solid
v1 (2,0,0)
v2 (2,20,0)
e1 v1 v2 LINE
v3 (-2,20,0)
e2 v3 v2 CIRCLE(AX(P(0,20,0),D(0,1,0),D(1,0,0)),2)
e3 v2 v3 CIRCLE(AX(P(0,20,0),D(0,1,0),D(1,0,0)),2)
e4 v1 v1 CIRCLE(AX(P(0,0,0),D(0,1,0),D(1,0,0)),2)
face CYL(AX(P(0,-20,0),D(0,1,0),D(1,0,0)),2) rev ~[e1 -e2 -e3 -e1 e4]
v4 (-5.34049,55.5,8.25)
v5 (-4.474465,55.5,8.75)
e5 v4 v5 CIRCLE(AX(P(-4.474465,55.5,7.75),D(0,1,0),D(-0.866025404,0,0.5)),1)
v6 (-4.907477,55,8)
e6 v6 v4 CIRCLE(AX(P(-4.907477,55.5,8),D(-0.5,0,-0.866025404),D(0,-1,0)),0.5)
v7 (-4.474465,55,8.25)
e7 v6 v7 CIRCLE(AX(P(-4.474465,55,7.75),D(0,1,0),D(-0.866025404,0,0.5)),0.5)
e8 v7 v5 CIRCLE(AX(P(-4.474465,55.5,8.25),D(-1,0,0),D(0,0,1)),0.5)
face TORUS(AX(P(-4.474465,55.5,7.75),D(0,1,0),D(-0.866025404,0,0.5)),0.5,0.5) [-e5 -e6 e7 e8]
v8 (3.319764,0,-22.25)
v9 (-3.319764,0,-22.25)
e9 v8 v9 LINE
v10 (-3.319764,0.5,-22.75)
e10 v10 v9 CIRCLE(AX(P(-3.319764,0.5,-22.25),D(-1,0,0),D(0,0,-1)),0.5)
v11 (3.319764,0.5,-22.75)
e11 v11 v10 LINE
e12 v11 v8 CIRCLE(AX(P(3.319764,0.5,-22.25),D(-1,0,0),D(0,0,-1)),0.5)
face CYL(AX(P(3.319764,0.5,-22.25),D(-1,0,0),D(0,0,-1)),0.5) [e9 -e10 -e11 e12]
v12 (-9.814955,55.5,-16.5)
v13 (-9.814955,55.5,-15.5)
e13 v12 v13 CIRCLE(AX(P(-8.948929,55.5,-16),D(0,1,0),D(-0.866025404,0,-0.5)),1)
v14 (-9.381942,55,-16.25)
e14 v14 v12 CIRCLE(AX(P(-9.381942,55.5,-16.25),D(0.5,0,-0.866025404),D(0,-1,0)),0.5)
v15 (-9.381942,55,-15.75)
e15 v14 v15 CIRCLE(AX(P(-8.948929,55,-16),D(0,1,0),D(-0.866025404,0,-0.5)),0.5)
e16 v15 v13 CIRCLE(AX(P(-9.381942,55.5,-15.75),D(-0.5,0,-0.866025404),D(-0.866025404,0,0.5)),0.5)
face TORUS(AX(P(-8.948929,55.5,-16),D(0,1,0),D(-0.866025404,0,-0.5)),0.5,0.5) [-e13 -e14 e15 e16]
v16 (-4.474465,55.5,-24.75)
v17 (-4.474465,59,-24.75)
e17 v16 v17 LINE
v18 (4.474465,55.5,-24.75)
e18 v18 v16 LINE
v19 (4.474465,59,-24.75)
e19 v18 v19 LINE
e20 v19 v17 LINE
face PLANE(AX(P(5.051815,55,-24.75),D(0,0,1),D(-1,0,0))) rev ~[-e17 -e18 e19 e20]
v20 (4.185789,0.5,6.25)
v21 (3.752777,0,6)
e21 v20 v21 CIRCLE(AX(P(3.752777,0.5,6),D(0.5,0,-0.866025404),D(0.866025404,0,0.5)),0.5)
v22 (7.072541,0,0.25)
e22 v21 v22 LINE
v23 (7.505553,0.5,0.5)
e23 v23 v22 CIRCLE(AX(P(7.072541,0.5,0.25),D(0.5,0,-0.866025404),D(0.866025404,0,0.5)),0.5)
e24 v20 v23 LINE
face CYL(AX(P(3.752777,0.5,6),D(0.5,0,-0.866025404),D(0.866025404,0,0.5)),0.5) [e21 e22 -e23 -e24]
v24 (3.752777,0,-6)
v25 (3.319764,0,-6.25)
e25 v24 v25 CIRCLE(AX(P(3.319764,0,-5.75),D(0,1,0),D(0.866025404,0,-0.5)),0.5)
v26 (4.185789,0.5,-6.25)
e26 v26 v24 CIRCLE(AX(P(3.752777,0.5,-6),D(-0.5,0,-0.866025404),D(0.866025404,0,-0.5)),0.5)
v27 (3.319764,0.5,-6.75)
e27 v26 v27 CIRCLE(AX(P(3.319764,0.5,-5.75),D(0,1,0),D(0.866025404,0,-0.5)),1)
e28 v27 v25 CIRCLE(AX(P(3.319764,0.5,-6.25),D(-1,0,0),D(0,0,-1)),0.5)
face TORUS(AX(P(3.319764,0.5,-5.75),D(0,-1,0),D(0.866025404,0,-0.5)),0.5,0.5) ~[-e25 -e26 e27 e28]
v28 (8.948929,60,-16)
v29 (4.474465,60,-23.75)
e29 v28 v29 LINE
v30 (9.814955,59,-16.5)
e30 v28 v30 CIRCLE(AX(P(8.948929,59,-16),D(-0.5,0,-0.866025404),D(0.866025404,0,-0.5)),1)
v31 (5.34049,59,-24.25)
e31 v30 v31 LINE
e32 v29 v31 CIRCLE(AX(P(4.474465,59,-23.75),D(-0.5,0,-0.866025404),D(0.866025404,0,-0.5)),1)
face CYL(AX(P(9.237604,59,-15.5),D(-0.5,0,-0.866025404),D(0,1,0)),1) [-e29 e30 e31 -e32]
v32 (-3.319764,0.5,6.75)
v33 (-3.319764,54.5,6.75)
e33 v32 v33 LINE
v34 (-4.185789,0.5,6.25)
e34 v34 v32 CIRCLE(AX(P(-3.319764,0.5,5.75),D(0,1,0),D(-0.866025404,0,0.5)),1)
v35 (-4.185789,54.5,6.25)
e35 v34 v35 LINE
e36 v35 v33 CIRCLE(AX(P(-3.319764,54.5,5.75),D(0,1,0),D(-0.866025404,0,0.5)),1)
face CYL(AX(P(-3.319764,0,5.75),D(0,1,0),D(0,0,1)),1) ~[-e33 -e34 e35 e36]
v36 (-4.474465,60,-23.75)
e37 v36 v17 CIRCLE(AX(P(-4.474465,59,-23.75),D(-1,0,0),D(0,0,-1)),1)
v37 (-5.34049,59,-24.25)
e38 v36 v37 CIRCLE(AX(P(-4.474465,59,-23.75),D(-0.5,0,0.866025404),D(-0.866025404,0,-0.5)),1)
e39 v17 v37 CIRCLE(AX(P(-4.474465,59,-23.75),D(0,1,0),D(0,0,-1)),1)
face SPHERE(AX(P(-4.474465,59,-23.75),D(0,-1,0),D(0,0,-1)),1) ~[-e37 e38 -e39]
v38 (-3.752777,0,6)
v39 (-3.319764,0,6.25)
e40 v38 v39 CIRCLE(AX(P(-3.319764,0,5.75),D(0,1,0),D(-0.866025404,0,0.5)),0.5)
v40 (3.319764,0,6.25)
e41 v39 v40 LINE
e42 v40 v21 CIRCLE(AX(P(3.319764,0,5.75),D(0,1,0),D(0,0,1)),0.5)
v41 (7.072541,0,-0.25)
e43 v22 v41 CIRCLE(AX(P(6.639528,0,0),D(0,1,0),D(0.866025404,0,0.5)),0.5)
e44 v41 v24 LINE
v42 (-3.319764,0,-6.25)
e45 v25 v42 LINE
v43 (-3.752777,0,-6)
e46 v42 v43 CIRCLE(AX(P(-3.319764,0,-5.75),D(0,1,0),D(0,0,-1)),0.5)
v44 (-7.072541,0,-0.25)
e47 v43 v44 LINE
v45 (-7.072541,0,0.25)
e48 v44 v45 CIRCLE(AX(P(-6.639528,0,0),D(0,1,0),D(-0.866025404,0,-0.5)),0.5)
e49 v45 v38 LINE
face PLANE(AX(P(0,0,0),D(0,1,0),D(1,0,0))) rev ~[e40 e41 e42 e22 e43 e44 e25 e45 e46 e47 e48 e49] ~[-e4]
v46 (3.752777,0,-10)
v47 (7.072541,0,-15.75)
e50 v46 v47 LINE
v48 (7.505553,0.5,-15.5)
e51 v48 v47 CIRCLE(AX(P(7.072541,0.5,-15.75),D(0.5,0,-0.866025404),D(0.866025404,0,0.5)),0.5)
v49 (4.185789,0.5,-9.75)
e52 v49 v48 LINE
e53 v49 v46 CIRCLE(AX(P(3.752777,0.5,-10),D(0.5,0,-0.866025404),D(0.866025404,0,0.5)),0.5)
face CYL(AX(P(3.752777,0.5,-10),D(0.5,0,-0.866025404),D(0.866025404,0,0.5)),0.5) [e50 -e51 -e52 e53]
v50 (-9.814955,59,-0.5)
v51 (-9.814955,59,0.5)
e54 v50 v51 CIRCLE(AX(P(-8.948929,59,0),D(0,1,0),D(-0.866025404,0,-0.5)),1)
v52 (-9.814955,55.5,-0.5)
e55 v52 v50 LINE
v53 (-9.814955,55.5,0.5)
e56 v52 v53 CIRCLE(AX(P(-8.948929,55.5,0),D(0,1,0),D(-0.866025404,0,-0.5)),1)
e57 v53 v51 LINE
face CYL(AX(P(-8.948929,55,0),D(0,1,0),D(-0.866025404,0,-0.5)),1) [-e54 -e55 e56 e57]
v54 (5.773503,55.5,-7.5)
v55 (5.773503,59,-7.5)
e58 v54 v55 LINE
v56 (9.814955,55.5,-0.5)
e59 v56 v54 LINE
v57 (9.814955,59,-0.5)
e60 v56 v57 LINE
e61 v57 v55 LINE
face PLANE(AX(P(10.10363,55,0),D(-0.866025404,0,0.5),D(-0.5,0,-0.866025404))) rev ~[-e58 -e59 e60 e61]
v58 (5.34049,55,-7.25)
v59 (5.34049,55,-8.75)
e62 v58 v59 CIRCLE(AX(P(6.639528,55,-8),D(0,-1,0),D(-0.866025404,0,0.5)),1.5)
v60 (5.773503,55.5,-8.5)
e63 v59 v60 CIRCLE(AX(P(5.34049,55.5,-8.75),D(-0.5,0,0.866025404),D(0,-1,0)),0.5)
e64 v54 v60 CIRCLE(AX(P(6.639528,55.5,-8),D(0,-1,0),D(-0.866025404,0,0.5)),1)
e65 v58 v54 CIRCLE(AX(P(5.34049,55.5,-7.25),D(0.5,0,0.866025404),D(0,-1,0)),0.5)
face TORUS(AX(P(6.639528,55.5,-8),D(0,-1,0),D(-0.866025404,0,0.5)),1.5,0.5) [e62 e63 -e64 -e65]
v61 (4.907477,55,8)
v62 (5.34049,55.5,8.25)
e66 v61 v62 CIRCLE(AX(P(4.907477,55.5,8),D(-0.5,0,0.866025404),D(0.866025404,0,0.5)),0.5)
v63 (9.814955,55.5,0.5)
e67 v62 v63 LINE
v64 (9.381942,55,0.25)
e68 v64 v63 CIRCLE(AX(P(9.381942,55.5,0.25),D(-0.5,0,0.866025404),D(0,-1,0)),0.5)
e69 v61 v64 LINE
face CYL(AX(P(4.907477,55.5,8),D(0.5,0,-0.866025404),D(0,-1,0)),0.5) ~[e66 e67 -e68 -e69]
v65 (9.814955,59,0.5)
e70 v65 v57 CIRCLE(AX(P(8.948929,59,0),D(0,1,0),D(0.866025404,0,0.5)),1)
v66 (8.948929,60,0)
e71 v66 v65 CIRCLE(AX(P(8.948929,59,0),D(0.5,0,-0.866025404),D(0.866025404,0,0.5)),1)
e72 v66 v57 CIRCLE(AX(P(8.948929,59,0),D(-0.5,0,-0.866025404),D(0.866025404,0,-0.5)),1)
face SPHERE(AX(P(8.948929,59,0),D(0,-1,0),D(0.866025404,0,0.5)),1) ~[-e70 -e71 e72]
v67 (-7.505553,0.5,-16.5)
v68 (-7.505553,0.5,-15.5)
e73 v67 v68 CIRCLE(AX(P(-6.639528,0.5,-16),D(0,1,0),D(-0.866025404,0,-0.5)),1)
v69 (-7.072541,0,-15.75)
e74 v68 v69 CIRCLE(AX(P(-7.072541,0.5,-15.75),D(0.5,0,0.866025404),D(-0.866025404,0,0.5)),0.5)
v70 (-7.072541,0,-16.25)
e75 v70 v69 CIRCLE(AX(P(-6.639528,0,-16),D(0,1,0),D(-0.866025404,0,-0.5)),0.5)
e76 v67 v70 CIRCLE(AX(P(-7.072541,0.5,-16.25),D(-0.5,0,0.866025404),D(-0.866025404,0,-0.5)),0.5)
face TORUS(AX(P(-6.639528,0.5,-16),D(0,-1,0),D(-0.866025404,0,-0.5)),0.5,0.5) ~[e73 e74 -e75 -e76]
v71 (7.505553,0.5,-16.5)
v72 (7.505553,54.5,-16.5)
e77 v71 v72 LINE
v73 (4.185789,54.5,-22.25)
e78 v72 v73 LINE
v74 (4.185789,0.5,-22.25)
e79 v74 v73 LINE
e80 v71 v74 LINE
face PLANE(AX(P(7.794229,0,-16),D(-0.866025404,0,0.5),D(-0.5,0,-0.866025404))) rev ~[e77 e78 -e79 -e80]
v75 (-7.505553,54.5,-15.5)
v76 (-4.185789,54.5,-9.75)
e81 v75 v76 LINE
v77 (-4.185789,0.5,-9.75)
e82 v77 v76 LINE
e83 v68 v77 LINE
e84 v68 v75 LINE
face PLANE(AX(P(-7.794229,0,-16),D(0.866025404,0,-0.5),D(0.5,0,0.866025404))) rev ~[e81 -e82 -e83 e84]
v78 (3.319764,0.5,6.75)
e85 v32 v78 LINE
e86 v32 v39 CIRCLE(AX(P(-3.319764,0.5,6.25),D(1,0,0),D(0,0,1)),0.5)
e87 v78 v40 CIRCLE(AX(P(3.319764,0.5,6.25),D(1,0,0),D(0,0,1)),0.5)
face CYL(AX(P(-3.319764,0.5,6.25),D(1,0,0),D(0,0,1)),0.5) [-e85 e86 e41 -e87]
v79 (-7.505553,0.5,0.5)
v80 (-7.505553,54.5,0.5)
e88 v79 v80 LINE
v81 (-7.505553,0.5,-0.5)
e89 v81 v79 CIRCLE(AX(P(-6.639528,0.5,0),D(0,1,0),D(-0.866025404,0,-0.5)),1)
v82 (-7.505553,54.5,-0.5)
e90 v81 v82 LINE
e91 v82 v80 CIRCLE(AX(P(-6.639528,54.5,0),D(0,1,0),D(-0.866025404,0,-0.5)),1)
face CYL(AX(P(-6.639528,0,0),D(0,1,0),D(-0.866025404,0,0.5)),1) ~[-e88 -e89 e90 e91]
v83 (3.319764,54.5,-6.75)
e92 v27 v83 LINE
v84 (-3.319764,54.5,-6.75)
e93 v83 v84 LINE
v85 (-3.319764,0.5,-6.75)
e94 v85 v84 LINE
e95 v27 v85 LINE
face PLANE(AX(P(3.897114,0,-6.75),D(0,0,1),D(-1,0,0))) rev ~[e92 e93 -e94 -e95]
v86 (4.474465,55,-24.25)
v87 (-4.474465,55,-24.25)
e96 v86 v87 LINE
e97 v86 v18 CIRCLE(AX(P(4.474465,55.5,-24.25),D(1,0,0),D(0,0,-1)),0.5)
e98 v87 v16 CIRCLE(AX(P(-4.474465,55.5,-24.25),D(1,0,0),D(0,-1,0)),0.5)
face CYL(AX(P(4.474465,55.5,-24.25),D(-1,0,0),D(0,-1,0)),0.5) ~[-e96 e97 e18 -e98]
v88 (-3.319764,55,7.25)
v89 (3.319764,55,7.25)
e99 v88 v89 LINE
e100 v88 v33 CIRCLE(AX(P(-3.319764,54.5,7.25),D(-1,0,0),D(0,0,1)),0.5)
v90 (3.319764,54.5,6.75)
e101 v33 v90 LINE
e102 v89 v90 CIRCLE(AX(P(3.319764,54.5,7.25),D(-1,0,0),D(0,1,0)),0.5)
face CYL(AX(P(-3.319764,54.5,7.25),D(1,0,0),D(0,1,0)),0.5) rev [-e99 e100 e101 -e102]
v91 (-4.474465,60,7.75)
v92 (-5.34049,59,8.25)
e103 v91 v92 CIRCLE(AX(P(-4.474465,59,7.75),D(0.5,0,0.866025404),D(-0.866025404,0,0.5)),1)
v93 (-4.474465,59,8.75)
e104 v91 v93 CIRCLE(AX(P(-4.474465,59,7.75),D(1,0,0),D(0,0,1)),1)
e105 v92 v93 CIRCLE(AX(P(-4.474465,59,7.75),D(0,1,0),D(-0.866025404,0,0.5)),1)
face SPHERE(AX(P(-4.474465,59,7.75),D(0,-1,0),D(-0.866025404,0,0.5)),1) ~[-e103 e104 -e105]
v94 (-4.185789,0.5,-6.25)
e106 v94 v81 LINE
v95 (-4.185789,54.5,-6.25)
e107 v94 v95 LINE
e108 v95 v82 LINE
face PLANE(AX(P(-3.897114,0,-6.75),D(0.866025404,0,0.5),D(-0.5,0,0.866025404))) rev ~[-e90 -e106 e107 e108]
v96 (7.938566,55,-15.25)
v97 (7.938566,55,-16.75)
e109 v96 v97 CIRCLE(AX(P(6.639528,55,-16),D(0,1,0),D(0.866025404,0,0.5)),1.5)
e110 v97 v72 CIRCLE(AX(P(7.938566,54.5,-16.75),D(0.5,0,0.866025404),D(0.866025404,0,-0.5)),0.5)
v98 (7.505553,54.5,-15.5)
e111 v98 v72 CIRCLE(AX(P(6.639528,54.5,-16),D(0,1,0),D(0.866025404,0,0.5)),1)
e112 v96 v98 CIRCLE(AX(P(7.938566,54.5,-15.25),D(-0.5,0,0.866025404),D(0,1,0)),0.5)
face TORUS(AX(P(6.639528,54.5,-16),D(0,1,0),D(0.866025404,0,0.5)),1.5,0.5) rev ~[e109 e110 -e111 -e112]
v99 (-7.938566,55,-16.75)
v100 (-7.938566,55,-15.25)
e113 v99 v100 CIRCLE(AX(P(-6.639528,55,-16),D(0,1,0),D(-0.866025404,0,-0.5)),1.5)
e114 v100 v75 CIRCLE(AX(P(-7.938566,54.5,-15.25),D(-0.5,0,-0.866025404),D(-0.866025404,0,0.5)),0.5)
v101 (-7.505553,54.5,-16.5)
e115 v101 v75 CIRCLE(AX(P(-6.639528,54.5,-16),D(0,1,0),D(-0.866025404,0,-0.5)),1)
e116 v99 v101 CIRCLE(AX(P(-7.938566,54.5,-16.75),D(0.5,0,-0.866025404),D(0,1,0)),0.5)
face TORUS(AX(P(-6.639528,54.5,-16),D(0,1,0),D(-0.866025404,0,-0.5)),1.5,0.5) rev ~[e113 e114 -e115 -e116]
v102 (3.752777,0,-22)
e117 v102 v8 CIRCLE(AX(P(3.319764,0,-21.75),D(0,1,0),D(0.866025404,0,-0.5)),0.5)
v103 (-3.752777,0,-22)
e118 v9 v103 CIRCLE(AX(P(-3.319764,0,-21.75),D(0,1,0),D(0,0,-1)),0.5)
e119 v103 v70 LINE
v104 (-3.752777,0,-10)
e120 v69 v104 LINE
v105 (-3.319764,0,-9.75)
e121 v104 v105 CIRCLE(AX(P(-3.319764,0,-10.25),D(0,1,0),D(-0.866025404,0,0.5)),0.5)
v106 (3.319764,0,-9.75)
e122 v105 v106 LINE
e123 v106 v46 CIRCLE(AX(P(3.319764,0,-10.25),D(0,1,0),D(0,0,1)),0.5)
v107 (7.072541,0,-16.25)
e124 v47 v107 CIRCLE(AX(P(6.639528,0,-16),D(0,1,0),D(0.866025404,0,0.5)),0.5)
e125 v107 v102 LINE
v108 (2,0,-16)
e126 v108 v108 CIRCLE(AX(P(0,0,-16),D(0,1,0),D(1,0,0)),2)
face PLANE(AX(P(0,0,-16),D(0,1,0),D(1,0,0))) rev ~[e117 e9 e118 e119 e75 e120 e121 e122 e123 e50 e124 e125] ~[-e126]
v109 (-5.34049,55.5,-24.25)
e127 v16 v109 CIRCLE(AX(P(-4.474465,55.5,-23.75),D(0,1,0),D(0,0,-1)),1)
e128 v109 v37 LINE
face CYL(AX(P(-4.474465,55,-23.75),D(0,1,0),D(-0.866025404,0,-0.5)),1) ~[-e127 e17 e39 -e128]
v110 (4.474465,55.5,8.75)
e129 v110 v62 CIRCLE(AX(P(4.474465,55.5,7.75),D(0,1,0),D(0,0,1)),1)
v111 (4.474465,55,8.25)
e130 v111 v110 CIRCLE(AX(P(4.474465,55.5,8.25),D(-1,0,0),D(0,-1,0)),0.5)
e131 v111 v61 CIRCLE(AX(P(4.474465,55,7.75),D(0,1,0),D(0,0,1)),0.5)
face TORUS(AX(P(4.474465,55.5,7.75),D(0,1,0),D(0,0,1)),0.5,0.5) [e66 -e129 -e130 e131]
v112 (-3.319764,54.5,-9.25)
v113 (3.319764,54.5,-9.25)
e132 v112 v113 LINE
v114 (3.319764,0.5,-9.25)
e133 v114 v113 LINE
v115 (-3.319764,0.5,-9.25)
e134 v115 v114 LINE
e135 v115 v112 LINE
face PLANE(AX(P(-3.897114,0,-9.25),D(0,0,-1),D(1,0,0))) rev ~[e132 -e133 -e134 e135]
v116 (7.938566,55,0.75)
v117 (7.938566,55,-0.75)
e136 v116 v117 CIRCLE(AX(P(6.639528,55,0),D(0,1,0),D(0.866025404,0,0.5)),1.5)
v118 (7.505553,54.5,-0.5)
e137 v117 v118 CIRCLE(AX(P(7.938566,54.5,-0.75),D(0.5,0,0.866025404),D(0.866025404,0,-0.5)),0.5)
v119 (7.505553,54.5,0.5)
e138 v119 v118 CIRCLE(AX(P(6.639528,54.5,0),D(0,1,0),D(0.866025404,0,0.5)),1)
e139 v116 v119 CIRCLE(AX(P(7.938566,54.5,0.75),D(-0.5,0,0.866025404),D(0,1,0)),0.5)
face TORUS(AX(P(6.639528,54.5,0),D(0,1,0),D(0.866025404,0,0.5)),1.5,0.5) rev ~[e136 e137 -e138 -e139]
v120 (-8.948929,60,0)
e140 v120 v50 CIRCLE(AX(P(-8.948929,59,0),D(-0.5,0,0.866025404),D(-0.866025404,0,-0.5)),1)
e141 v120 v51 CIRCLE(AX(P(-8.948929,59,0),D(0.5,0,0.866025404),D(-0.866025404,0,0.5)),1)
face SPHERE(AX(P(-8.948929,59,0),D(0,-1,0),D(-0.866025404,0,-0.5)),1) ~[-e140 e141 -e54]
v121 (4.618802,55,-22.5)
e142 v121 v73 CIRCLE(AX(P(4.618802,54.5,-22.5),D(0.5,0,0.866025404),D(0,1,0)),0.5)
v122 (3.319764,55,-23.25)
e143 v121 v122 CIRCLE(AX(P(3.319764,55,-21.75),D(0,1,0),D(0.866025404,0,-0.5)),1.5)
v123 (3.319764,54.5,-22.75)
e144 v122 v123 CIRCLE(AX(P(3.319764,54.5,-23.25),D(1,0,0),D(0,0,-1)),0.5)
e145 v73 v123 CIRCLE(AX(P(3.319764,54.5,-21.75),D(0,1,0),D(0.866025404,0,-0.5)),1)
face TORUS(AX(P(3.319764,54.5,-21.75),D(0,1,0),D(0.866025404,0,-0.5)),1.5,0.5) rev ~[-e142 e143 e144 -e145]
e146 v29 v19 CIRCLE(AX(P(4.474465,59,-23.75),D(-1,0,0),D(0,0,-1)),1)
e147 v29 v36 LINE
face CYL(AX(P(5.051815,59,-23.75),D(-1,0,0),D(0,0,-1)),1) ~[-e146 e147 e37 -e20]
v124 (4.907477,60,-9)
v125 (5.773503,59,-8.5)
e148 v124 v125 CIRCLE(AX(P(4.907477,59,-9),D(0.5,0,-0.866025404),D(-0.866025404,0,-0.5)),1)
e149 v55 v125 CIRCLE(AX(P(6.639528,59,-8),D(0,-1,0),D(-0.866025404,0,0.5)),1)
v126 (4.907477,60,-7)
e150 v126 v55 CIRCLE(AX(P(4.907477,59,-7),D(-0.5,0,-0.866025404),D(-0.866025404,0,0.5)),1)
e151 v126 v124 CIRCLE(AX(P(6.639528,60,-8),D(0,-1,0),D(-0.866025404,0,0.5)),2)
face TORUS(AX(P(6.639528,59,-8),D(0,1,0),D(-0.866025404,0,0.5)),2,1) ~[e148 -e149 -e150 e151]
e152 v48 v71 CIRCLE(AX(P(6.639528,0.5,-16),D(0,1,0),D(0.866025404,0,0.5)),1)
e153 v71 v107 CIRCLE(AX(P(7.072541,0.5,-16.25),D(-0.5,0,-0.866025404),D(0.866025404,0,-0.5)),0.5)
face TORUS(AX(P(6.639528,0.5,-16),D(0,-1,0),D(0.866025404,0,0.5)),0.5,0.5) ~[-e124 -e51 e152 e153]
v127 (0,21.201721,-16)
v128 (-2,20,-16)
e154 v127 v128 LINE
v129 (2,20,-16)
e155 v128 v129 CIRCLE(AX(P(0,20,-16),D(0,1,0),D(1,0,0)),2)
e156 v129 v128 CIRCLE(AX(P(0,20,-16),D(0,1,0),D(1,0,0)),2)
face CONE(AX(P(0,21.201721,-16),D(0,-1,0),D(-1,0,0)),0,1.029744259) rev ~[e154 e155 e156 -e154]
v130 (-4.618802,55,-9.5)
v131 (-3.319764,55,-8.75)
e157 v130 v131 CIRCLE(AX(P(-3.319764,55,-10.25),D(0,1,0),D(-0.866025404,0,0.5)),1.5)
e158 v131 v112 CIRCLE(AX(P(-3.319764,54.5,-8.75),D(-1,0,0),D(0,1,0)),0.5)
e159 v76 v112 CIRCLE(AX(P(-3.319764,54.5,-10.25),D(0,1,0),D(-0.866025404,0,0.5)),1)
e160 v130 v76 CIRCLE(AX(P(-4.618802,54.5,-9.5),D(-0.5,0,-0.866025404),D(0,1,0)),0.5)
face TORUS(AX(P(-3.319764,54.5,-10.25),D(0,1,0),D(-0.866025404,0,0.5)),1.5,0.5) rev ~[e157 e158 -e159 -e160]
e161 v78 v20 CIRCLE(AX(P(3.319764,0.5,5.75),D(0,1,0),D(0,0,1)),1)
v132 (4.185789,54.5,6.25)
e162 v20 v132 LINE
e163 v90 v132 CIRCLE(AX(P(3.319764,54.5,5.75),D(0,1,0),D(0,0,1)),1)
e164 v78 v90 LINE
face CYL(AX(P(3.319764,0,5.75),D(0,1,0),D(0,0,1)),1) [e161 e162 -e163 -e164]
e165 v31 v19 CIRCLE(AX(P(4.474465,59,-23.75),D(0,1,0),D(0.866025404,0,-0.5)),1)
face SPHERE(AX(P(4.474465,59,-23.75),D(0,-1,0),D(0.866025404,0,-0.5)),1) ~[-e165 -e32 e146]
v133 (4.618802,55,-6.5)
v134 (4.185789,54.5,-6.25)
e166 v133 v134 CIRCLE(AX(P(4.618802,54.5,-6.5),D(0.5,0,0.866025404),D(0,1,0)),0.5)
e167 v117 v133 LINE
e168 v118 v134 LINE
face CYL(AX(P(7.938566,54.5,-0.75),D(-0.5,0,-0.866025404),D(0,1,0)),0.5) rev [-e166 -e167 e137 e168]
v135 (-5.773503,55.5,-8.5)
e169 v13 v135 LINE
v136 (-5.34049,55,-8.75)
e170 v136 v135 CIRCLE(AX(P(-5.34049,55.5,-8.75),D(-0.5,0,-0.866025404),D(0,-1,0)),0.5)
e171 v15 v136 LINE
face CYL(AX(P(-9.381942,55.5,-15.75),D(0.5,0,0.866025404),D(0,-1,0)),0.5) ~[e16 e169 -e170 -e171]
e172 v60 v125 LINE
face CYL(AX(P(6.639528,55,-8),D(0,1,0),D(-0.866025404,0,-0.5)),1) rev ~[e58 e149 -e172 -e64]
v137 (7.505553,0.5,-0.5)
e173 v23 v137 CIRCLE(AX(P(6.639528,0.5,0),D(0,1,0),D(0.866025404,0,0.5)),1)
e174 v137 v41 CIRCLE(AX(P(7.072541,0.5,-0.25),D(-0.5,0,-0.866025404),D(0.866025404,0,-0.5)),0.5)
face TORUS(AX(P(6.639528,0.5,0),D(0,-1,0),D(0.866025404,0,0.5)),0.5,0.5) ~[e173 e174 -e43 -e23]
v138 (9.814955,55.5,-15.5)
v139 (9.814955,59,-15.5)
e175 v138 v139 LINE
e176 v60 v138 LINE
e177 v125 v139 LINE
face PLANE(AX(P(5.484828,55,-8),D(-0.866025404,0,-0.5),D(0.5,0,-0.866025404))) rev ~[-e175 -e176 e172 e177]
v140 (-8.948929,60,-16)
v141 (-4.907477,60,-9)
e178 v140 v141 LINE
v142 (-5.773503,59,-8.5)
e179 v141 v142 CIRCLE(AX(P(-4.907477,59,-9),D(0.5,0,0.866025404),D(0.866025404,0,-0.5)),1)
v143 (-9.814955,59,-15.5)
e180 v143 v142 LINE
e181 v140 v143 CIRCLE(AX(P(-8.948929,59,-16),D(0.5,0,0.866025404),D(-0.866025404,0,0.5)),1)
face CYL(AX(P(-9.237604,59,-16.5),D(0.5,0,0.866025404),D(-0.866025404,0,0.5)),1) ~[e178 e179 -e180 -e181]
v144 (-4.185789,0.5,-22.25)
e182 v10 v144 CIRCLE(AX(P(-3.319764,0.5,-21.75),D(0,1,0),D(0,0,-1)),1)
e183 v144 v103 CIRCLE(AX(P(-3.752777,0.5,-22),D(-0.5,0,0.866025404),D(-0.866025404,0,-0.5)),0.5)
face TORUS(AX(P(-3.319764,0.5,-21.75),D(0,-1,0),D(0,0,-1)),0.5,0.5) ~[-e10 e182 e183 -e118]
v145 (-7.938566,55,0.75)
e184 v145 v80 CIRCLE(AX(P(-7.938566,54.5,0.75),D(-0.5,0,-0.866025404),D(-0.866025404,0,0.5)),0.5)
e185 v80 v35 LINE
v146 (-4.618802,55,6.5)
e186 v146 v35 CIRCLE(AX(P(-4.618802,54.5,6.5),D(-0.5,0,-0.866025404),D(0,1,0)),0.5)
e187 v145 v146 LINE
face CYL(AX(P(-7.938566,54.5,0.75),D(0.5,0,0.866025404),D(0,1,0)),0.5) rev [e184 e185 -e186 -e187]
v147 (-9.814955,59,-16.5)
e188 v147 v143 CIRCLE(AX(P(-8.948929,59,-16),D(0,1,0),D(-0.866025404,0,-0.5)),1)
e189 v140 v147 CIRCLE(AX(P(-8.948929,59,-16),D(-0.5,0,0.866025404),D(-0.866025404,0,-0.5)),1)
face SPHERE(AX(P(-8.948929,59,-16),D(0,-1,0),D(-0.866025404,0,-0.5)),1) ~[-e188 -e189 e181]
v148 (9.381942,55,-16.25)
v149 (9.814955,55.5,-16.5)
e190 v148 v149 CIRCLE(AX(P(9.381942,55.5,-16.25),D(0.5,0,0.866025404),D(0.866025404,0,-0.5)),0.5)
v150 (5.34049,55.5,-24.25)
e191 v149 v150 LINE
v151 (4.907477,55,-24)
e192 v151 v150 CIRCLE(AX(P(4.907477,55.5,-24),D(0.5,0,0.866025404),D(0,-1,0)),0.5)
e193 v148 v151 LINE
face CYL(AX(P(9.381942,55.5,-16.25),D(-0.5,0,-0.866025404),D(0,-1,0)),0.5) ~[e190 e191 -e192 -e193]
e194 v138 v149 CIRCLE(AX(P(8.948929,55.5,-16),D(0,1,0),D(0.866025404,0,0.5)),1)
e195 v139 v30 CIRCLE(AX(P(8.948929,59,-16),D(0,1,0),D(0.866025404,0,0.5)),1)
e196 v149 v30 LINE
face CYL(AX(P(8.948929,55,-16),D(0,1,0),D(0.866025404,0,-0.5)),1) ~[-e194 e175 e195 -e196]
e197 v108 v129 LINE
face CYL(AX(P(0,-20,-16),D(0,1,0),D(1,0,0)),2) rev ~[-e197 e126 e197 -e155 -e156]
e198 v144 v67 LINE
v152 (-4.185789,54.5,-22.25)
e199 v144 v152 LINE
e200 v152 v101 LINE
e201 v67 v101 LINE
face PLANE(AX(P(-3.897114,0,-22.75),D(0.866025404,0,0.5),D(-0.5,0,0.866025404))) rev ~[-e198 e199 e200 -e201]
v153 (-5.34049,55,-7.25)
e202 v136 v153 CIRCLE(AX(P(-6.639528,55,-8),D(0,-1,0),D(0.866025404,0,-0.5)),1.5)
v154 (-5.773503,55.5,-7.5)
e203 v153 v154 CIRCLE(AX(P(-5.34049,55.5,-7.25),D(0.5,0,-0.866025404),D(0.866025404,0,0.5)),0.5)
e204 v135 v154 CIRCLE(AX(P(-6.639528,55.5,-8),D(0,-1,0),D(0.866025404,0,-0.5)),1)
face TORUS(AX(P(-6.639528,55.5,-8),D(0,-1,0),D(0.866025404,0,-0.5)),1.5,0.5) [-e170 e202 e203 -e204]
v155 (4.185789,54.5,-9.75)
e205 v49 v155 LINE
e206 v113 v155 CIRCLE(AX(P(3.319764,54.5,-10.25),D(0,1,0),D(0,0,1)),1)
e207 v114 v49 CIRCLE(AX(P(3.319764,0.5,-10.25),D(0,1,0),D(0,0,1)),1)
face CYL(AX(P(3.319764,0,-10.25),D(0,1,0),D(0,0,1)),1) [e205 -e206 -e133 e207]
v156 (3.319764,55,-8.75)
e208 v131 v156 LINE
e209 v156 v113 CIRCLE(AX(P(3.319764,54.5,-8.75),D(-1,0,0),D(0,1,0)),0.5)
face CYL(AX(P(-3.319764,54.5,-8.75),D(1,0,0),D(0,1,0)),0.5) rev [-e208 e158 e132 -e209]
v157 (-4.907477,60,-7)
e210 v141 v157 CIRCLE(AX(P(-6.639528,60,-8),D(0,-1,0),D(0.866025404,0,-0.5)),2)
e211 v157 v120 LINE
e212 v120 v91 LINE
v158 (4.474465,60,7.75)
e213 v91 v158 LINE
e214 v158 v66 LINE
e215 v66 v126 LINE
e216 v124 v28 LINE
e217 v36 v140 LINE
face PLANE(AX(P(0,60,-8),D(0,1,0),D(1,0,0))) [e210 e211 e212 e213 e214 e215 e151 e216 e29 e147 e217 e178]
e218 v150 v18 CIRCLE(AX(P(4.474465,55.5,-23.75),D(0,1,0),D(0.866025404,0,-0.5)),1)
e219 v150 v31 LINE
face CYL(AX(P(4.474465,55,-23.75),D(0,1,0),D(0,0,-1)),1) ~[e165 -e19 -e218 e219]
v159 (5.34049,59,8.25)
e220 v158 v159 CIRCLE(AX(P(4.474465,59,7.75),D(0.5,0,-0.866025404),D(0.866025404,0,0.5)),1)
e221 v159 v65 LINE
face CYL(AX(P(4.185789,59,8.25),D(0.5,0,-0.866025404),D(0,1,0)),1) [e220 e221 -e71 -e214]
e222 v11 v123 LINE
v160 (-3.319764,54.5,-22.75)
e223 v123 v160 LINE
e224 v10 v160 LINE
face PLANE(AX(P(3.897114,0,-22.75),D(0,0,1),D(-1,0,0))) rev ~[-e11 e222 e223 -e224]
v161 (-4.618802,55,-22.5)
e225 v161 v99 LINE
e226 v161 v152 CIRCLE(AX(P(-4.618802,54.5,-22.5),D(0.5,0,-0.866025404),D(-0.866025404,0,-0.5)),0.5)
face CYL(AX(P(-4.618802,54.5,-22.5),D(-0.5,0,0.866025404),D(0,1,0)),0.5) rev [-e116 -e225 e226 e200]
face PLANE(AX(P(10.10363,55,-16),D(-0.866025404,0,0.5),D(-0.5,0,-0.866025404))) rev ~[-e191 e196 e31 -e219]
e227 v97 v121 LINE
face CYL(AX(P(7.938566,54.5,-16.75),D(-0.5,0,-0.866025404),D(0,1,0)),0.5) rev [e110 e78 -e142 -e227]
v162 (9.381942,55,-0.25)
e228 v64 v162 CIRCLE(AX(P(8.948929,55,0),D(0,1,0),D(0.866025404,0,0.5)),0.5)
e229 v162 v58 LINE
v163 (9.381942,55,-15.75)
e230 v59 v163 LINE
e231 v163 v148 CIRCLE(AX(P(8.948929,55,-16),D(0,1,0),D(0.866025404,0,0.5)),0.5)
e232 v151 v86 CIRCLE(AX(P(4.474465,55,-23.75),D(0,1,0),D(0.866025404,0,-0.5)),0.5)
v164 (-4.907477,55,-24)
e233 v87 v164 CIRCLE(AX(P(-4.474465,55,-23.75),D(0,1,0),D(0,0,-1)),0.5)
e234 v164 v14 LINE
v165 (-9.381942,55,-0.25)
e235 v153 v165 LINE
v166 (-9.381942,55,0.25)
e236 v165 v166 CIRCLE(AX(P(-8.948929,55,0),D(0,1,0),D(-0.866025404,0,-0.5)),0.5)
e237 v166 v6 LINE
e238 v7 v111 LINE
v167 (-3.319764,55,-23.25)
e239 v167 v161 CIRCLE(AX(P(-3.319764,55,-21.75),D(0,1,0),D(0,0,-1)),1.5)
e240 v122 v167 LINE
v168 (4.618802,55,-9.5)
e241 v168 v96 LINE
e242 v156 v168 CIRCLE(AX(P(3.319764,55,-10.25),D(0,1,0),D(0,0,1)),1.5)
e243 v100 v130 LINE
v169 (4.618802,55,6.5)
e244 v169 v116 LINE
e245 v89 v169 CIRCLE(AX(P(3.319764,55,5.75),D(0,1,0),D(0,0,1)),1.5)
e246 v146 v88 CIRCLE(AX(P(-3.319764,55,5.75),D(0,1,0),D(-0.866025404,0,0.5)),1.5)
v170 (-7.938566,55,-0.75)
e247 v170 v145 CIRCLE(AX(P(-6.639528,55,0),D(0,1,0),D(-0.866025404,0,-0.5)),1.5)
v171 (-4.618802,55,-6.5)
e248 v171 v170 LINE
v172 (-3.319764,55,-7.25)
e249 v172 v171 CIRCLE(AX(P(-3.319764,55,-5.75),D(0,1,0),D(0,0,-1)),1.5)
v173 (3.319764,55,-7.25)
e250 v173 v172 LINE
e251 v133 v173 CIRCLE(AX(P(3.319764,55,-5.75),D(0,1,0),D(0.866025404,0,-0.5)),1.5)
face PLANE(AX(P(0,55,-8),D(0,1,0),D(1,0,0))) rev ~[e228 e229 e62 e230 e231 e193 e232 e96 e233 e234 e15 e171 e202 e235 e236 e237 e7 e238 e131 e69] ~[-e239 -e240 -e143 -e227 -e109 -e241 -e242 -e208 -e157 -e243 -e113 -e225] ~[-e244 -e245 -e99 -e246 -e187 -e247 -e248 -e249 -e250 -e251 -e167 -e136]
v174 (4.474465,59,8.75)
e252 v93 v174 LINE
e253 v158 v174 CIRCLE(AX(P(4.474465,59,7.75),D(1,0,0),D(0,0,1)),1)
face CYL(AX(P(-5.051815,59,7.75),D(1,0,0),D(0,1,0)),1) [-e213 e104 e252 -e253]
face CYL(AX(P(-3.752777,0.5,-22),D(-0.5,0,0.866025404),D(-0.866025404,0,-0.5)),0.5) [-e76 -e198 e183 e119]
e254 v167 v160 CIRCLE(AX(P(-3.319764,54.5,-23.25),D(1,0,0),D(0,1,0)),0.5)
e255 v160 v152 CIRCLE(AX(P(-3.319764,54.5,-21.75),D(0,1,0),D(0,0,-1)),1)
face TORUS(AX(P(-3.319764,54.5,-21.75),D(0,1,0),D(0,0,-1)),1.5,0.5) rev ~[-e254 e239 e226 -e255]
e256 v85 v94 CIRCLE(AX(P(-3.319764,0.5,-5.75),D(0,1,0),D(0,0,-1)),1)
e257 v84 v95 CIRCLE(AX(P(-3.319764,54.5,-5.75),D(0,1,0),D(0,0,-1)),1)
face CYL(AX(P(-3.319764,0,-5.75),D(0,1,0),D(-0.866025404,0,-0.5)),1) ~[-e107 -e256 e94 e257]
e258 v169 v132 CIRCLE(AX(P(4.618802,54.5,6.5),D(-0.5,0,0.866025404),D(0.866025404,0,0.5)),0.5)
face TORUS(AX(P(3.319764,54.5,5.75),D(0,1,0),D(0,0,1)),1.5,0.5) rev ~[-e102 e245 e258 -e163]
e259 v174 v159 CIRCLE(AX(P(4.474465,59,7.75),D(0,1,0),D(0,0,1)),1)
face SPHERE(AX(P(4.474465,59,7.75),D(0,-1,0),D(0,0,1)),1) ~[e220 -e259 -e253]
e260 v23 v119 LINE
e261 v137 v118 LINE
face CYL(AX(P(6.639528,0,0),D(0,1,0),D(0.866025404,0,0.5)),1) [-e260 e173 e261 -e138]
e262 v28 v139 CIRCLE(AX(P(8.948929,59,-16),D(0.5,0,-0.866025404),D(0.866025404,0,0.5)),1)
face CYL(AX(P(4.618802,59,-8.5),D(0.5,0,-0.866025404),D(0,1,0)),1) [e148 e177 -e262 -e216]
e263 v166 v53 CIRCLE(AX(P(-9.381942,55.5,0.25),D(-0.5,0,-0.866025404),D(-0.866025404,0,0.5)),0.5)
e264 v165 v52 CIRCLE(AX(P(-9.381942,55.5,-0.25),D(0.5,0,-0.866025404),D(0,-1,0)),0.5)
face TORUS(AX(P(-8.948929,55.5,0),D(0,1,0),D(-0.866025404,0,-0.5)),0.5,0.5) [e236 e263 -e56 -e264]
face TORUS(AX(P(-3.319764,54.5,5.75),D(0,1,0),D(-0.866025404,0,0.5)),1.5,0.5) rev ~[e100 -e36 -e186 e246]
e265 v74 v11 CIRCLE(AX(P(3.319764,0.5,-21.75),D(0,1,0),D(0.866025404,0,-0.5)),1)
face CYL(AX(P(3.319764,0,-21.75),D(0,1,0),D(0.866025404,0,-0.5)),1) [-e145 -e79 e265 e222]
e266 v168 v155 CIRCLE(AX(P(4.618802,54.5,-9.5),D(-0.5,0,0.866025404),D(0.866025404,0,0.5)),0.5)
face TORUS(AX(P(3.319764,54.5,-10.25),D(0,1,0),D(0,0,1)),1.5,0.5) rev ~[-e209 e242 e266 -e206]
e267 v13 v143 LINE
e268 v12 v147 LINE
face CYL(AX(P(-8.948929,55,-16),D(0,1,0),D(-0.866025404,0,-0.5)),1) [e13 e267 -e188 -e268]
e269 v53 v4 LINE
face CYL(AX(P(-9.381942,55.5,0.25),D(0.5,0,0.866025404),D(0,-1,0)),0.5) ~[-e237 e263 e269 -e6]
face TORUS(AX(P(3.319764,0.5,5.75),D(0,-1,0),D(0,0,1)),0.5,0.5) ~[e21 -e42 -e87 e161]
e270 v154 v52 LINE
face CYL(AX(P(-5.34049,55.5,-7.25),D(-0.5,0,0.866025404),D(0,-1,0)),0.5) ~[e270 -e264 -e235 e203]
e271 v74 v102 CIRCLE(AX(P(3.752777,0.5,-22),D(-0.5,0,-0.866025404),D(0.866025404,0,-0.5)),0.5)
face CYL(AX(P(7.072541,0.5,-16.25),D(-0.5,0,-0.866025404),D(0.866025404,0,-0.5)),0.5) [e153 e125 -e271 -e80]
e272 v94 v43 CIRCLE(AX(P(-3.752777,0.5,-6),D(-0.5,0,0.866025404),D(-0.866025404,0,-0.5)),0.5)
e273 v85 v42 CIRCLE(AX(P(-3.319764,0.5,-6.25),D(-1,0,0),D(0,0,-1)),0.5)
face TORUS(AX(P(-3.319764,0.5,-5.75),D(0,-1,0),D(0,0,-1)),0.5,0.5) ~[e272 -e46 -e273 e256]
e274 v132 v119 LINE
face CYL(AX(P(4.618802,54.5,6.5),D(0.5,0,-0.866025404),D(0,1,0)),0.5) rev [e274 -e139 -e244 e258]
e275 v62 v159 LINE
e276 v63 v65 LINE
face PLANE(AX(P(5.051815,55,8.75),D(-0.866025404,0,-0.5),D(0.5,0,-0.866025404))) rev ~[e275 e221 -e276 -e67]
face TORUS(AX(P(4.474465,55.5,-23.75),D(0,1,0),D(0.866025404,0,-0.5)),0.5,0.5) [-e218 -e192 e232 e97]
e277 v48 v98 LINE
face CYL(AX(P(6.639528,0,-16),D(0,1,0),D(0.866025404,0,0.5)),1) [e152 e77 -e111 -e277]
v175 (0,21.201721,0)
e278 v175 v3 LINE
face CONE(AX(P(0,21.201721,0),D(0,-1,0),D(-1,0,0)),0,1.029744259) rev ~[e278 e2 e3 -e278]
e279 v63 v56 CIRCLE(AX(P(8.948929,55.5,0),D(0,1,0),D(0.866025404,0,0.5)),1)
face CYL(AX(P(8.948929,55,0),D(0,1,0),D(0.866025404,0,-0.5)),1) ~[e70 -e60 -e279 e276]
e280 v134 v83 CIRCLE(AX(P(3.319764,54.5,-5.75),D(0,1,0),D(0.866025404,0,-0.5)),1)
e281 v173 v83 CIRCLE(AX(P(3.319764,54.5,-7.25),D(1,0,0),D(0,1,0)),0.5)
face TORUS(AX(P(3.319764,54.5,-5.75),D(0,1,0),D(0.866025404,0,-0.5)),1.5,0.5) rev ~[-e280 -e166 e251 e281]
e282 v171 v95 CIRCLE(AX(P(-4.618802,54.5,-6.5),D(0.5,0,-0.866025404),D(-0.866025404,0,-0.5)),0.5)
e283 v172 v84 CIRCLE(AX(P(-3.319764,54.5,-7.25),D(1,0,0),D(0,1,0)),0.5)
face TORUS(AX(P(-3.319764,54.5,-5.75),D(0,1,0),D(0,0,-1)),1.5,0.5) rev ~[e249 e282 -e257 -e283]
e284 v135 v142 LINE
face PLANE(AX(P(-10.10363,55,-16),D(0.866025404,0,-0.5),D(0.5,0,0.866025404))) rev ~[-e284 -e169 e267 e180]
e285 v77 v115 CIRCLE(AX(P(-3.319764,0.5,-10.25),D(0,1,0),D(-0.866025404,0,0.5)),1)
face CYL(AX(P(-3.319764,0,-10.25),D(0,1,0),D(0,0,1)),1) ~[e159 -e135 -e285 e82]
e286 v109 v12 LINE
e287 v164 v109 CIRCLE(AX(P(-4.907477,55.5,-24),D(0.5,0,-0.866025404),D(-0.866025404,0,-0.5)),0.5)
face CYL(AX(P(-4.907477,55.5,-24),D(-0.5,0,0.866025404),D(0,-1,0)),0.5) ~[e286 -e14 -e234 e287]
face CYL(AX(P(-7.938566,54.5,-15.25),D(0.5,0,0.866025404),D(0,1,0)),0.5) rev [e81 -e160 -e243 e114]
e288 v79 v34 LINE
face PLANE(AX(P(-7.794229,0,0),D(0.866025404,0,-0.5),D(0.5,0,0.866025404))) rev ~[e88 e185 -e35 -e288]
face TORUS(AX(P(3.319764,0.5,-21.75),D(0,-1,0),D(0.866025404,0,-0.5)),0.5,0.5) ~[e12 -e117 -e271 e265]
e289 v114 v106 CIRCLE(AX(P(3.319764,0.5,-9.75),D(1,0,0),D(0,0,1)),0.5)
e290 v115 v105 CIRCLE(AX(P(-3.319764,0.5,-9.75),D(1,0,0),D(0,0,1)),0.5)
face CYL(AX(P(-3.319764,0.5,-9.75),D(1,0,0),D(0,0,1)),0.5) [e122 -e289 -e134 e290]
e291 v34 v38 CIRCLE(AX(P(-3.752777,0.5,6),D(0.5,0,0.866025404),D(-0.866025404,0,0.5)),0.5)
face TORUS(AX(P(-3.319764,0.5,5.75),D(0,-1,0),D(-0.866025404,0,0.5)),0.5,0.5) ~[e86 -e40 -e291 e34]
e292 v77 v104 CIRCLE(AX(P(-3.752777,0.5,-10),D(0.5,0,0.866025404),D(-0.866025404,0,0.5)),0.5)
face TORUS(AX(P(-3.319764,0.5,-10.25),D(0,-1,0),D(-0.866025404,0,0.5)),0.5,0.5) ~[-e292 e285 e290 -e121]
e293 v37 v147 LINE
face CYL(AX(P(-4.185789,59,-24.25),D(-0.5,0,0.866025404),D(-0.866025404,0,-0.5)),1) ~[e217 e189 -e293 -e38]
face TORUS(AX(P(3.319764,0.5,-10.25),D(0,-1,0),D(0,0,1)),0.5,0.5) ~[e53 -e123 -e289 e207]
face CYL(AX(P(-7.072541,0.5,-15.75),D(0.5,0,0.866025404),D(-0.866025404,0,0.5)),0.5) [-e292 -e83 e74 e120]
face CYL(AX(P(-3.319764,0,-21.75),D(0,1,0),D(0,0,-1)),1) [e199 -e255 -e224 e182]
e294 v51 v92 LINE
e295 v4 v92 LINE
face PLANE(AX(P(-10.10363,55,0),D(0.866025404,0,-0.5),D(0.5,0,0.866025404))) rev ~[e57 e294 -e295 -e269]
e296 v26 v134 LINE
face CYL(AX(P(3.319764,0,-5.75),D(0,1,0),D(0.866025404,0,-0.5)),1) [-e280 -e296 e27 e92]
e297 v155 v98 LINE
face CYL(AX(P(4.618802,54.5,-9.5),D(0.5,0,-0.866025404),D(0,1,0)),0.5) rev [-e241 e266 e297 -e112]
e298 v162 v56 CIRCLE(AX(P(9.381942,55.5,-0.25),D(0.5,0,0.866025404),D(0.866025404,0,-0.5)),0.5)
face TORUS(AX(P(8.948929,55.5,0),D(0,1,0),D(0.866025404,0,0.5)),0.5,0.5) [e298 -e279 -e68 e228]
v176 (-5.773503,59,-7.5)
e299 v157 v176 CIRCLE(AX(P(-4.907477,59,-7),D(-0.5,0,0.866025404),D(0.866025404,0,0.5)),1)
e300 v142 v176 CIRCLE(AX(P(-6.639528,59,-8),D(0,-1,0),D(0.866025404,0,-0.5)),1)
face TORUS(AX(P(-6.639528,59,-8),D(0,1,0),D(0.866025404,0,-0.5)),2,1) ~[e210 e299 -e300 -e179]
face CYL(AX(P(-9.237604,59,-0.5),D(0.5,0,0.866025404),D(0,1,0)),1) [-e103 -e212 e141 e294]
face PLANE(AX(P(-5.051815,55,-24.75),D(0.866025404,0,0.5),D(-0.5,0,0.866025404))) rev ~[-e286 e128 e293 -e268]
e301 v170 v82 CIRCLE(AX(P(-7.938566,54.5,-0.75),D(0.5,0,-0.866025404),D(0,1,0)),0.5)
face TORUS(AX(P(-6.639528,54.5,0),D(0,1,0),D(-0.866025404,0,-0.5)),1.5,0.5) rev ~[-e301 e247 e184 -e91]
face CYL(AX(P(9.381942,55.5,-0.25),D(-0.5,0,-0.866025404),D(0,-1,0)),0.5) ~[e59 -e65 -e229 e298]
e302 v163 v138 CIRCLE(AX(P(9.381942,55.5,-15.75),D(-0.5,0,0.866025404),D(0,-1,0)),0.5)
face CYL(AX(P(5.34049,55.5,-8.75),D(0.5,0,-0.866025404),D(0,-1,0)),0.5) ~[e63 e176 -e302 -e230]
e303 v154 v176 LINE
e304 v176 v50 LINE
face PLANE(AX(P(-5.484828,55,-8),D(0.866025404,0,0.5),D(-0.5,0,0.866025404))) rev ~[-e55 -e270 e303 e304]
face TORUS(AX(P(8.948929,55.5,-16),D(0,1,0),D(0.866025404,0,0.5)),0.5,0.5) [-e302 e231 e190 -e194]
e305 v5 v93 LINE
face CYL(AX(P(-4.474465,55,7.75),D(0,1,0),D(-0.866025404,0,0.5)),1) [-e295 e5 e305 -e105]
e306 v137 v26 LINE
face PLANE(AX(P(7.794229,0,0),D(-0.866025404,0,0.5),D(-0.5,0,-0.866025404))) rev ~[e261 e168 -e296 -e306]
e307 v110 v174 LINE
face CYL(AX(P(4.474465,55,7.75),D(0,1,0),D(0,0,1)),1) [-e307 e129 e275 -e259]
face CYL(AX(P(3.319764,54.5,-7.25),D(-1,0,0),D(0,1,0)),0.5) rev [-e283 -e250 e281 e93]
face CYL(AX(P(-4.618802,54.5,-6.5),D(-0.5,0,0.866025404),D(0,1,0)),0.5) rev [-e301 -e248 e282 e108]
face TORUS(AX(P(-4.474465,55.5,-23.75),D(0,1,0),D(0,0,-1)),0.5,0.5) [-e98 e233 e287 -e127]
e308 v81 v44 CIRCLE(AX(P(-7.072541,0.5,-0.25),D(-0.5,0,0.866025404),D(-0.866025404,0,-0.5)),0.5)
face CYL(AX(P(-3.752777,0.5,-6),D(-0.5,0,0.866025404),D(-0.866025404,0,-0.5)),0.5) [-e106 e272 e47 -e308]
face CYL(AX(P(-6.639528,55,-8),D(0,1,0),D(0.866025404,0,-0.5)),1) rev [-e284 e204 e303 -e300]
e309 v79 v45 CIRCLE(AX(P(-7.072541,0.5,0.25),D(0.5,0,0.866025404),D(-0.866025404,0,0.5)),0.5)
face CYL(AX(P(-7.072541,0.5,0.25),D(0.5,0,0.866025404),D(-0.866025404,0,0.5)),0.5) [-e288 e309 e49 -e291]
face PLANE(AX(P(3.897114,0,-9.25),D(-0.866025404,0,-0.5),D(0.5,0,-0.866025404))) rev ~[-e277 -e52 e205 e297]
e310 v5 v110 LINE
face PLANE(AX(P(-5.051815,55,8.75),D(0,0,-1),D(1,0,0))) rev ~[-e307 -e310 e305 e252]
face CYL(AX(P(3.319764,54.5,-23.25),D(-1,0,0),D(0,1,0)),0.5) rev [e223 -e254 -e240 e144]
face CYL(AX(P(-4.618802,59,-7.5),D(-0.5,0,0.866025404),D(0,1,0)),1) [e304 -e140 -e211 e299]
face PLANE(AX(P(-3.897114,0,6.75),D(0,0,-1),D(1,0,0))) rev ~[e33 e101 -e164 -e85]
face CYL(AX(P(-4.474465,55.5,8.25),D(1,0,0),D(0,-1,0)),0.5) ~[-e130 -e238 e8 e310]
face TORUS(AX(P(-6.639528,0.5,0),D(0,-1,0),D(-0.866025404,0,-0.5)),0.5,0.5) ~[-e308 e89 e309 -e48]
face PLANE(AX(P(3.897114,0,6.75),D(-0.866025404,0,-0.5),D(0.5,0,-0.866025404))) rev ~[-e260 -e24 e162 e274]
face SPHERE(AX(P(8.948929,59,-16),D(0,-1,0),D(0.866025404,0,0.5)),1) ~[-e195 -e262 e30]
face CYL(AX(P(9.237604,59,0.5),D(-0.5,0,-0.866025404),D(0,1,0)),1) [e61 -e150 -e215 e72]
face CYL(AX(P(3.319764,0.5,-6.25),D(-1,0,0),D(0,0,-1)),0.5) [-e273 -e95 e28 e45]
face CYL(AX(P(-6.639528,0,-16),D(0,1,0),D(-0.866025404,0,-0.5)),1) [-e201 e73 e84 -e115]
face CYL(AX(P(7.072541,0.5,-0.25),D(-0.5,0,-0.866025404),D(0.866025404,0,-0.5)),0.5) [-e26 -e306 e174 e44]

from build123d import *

# Parameters (mm, degrees)
BOSS_EXTRUDE1_DEPTH       = 55
BOSS_EXTRUDE1_2_DEPTH     = 55
BOSS_EXTRUDE2_START       = 55
BOSS_EXTRUDE2_DEPTH       = 5
FILLET1_R                 = 1
FILLET2_R                 = 1
F_4_0MM_DOWEL_HOLE1_D     = 4
F_4_0MM_DOWEL_HOLE1_DEPTH = 20
F_4_0MM_DOWEL_HOLE1_TIP   = 1.201721238
FILLET3_R                 = 0.5


with BuildPart() as part:
    # Sketch1 → Boss-Extrude1 (new body)
    with BuildSketch(Plane(origin=(0, 0, 0), x_dir=(1, 0, 0), z_dir=(0, 1, 0))):
        Polygon((-7.794228634, 0), (-3.897114317, -6.75), (3.897114317, -6.75), (7.794228634, 0), (3.897114317, 6.75), (-3.897114317, 6.75), align=None)
    extrude(amount=BOSS_EXTRUDE1_DEPTH)



with BuildPart() as body_2:
    # Sketch1 → Boss-Extrude1 2 (new body)
    with BuildSketch(Plane(origin=(0, 0, 0), x_dir=(1, 0, 0), z_dir=(0, 1, 0))):
        Polygon((3.897114317, 9.25), (7.794228634, 16), (3.897114317, 22.75), (-3.897114317, 22.75), (-7.794228634, 16), (-3.897114317, 9.25), align=None)
    extrude(amount=BOSS_EXTRUDE1_2_DEPTH)


with BuildPart() as part_1:
    add(part.part)

    add(body_2.part)  # Boss-Extrude2 merges body 2
    # Sketch1<4> → Boss-Extrude2 (add)
    # profile 1 of 3: a face of its own
    with BuildSketch(Plane(origin=(0, 0, 0), x_dir=(1, 0, 0), z_dir=(0, 1, 0)).offset(BOSS_EXTRUDE2_START)):
        Polygon((-5.051814855, 24.75), (-10.103629711, 16), (-5.484827557, 8), (-10.103629711, 0), (-5.051814855, -8.75), (5.051814855, -8.75), (10.103629711, 0), (5.484827557, 8), (10.103629711, 16), (5.051814855, 24.75), align=None)
        Polygon((-3.897114317, -6.75), (3.897114317, -6.75), (7.794228634, 0), (3.897114317, 6.75), (-3.897114317, 6.75), (-7.794228634, 0), align=None, mode=Mode.SUBTRACT)
        Polygon((-3.897114317, 9.25), (3.897114317, 9.25), (7.794228634, 16), (3.897114317, 22.75), (-3.897114317, 22.75), (-7.794228634, 16), align=None, mode=Mode.SUBTRACT)
    # profile 2 of 3: a face of its own
    with BuildSketch(Plane(origin=(0, 0, 0), x_dir=(1, 0, 0), z_dir=(0, 1, 0)).offset(BOSS_EXTRUDE2_START)):
        Polygon((-7.794228634, 16), (-3.897114317, 9.25), (3.897114317, 9.25), (7.794228634, 16), (3.897114317, 22.75), (-3.897114317, 22.75), align=None)
    # profile 3 of 3: a face of its own
    with BuildSketch(Plane(origin=(0, 0, 0), x_dir=(1, 0, 0), z_dir=(0, 1, 0)).offset(BOSS_EXTRUDE2_START)):
        Polygon((-7.794228634, 0), (-3.897114317, -6.75), (3.897114317, -6.75), (7.794228634, 0), (3.897114317, 6.75), (-3.897114317, 6.75), align=None)
    extrude(amount=BOSS_EXTRUDE2_DEPTH)

    # Fillet1
    fillet1_edges = [part_1.edges().sort_by_distance(p)[0] for p in [
        (7.794228634, 60, -4),
        (10.103629711, 57.5, 0),
        (7.794228634, 60, -12),
        (5.484827557, 57.5, -8),
        (7.577722283, 60, -20.375),
        (10.103629711, 57.5, -16),
        (0, 60, -24.75),
        (5.051814855, 57.5, -24.75),
        (-7.577722283, 60, -20.375),
        (-5.051814855, 57.5, -24.75),
        (-7.794228634, 60, -12),
        (-10.103629711, 57.5, -16),
        (-7.794228634, 60, -4),
        (-5.484827557, 57.5, -8),
        (-7.577722283, 60, 4.375),
        (-10.103629711, 57.5, 0),
        (0, 60, 8.75),
        (-5.051814855, 57.5, 8.75),
        (7.577722283, 60, 4.375),
        (5.051814855, 57.5, 8.75),
    ]]
    fillet(fillet1_edges, radius=FILLET1_R)

    # Fillet2
    fillet2_edges = [part_1.edges().sort_by_distance(p)[0] for p in [
        (-7.794228634, 27.5, 0),
        (-3.897114317, 27.5, -6.75),
        (3.897114317, 27.5, -6.75),
        (7.794228634, 27.5, 0),
        (3.897114317, 27.5, 6.75),
        (-3.897114317, 27.5, 6.75),
        (-3.897114317, 27.5, -9.25),
        (3.897114317, 27.5, -9.25),
        (7.794228634, 27.5, -16),
        (3.897114317, 27.5, -22.75),
        (-3.897114317, 27.5, -22.75),
        (-7.794228634, 27.5, -16),
    ]]
    fillet(fillet2_edges, radius=FILLET2_R)

    # Ø4.0mm Dowel Hole1
    with Locations(Plane(origin=(0, 0, 0), x_dir=(-1, 0, 0), z_dir=(0, -1, 0))):
        with Locations((0, 16), (0, 0)):
            Hole(F_4_0MM_DOWEL_HOLE1_D / 2, depth=F_4_0MM_DOWEL_HOLE1_DEPTH)
            with Locations((0, 0, -(F_4_0MM_DOWEL_HOLE1_DEPTH + F_4_0MM_DOWEL_HOLE1_TIP / 2))):  # 118° drill point
                Cone(0, F_4_0MM_DOWEL_HOLE1_D / 2, F_4_0MM_DOWEL_HOLE1_TIP, mode=Mode.SUBTRACT)

    # Fillet3
    fillet3_edges = [part_1.edges().sort_by_distance(p)[0] for p in [
        (7.794228634, 55, -12),
        (7.794228634, 55, -4),
        (-4.974464586, 55, -24.616025404),
        (4.974464586, 55, -24.616025404),
        (9.948929172, 55, -16),
        (9.948929172, 55, 0),
        (4.974464586, 55, 8.616025404),
        (-4.974464586, 55, 8.616025404),
        (-9.948929172, 55, 0),
        (-9.948929172, 55, -16),
        (-5.639528096, 55, -8),
        (5.639528096, 55, -8),
        (0, 0, -6.75),
        (0, 55, -6.75),
        (-5.845671476, 0, 3.375),
        (-5.845671476, 0, -3.375),
        (5.845671476, 0, -3.375),
        (5.845671476, 0, 3.375),
        (0, 0, 6.75),
        (-3.819764048, 0, -6.616025404),
        (-7.639528096, 0, 0),
        (-3.819764048, 0, 6.616025404),
        (3.819764048, 0, 6.616025404),
        (7.639528096, 0, 0),
        (3.819764048, 0, -6.616025404),
        (5.845671476, 55, -3.375),
        (5.845671476, 55, 3.375),
        (0, 55, 6.75),
        (-5.845671476, 55, 3.375),
        (-5.845671476, 55, -3.375),
        (0, 0, -9.25),
        (0, 55, -9.25),
        (-5.845671476, 0, -12.625),
        (-5.845671476, 0, -19.375),
        (0, 0, -22.75),
        (5.845671476, 0, -19.375),
        (5.845671476, 0, -12.625),
        (-7.639528096, 0, -16),
        (-3.819764048, 0, -22.616025404),
        (3.819764048, 0, -22.616025404),
        (7.639528096, 0, -16),
        (3.819764048, 0, -9.383974596),
        (-3.819764048, 0, -9.383974596),
        (-5.845671476, 55, -12.625),
        (5.845671476, 55, -12.625),
        (5.845671476, 55, -19.375),
        (0, 55, -22.75),
        (-5.845671476, 55, -19.375),
        (3.819764048, 55, -6.616025404),
        (7.639528096, 55, 0),
        (3.819764048, 55, 6.616025404),
        (-3.819764048, 55, 6.616025404),
        (-7.639528096, 55, 0),
        (-3.819764048, 55, -6.616025404),
        (-3.819764048, 55, -9.383974596),
        (3.819764048, 55, -9.383974596),
        (7.639528096, 55, -16),
        (3.819764048, 55, -22.616025404),
        (-3.819764048, 55, -22.616025404),
        (-7.639528096, 55, -16),
        (7.577722283, 55, 4.375),
        (0, 55, 8.75),
        (-7.577722283, 55, 4.375),
        (-7.794228634, 55, -4),
        (-7.794228634, 55, -12),
        (-7.577722283, 55, -20.375),
        (0, 55, -24.75),
        (7.577722283, 55, -20.375),
    ]]
    fillet(fillet3_edges, radius=FILLET3_R)


solid = part_1.part
